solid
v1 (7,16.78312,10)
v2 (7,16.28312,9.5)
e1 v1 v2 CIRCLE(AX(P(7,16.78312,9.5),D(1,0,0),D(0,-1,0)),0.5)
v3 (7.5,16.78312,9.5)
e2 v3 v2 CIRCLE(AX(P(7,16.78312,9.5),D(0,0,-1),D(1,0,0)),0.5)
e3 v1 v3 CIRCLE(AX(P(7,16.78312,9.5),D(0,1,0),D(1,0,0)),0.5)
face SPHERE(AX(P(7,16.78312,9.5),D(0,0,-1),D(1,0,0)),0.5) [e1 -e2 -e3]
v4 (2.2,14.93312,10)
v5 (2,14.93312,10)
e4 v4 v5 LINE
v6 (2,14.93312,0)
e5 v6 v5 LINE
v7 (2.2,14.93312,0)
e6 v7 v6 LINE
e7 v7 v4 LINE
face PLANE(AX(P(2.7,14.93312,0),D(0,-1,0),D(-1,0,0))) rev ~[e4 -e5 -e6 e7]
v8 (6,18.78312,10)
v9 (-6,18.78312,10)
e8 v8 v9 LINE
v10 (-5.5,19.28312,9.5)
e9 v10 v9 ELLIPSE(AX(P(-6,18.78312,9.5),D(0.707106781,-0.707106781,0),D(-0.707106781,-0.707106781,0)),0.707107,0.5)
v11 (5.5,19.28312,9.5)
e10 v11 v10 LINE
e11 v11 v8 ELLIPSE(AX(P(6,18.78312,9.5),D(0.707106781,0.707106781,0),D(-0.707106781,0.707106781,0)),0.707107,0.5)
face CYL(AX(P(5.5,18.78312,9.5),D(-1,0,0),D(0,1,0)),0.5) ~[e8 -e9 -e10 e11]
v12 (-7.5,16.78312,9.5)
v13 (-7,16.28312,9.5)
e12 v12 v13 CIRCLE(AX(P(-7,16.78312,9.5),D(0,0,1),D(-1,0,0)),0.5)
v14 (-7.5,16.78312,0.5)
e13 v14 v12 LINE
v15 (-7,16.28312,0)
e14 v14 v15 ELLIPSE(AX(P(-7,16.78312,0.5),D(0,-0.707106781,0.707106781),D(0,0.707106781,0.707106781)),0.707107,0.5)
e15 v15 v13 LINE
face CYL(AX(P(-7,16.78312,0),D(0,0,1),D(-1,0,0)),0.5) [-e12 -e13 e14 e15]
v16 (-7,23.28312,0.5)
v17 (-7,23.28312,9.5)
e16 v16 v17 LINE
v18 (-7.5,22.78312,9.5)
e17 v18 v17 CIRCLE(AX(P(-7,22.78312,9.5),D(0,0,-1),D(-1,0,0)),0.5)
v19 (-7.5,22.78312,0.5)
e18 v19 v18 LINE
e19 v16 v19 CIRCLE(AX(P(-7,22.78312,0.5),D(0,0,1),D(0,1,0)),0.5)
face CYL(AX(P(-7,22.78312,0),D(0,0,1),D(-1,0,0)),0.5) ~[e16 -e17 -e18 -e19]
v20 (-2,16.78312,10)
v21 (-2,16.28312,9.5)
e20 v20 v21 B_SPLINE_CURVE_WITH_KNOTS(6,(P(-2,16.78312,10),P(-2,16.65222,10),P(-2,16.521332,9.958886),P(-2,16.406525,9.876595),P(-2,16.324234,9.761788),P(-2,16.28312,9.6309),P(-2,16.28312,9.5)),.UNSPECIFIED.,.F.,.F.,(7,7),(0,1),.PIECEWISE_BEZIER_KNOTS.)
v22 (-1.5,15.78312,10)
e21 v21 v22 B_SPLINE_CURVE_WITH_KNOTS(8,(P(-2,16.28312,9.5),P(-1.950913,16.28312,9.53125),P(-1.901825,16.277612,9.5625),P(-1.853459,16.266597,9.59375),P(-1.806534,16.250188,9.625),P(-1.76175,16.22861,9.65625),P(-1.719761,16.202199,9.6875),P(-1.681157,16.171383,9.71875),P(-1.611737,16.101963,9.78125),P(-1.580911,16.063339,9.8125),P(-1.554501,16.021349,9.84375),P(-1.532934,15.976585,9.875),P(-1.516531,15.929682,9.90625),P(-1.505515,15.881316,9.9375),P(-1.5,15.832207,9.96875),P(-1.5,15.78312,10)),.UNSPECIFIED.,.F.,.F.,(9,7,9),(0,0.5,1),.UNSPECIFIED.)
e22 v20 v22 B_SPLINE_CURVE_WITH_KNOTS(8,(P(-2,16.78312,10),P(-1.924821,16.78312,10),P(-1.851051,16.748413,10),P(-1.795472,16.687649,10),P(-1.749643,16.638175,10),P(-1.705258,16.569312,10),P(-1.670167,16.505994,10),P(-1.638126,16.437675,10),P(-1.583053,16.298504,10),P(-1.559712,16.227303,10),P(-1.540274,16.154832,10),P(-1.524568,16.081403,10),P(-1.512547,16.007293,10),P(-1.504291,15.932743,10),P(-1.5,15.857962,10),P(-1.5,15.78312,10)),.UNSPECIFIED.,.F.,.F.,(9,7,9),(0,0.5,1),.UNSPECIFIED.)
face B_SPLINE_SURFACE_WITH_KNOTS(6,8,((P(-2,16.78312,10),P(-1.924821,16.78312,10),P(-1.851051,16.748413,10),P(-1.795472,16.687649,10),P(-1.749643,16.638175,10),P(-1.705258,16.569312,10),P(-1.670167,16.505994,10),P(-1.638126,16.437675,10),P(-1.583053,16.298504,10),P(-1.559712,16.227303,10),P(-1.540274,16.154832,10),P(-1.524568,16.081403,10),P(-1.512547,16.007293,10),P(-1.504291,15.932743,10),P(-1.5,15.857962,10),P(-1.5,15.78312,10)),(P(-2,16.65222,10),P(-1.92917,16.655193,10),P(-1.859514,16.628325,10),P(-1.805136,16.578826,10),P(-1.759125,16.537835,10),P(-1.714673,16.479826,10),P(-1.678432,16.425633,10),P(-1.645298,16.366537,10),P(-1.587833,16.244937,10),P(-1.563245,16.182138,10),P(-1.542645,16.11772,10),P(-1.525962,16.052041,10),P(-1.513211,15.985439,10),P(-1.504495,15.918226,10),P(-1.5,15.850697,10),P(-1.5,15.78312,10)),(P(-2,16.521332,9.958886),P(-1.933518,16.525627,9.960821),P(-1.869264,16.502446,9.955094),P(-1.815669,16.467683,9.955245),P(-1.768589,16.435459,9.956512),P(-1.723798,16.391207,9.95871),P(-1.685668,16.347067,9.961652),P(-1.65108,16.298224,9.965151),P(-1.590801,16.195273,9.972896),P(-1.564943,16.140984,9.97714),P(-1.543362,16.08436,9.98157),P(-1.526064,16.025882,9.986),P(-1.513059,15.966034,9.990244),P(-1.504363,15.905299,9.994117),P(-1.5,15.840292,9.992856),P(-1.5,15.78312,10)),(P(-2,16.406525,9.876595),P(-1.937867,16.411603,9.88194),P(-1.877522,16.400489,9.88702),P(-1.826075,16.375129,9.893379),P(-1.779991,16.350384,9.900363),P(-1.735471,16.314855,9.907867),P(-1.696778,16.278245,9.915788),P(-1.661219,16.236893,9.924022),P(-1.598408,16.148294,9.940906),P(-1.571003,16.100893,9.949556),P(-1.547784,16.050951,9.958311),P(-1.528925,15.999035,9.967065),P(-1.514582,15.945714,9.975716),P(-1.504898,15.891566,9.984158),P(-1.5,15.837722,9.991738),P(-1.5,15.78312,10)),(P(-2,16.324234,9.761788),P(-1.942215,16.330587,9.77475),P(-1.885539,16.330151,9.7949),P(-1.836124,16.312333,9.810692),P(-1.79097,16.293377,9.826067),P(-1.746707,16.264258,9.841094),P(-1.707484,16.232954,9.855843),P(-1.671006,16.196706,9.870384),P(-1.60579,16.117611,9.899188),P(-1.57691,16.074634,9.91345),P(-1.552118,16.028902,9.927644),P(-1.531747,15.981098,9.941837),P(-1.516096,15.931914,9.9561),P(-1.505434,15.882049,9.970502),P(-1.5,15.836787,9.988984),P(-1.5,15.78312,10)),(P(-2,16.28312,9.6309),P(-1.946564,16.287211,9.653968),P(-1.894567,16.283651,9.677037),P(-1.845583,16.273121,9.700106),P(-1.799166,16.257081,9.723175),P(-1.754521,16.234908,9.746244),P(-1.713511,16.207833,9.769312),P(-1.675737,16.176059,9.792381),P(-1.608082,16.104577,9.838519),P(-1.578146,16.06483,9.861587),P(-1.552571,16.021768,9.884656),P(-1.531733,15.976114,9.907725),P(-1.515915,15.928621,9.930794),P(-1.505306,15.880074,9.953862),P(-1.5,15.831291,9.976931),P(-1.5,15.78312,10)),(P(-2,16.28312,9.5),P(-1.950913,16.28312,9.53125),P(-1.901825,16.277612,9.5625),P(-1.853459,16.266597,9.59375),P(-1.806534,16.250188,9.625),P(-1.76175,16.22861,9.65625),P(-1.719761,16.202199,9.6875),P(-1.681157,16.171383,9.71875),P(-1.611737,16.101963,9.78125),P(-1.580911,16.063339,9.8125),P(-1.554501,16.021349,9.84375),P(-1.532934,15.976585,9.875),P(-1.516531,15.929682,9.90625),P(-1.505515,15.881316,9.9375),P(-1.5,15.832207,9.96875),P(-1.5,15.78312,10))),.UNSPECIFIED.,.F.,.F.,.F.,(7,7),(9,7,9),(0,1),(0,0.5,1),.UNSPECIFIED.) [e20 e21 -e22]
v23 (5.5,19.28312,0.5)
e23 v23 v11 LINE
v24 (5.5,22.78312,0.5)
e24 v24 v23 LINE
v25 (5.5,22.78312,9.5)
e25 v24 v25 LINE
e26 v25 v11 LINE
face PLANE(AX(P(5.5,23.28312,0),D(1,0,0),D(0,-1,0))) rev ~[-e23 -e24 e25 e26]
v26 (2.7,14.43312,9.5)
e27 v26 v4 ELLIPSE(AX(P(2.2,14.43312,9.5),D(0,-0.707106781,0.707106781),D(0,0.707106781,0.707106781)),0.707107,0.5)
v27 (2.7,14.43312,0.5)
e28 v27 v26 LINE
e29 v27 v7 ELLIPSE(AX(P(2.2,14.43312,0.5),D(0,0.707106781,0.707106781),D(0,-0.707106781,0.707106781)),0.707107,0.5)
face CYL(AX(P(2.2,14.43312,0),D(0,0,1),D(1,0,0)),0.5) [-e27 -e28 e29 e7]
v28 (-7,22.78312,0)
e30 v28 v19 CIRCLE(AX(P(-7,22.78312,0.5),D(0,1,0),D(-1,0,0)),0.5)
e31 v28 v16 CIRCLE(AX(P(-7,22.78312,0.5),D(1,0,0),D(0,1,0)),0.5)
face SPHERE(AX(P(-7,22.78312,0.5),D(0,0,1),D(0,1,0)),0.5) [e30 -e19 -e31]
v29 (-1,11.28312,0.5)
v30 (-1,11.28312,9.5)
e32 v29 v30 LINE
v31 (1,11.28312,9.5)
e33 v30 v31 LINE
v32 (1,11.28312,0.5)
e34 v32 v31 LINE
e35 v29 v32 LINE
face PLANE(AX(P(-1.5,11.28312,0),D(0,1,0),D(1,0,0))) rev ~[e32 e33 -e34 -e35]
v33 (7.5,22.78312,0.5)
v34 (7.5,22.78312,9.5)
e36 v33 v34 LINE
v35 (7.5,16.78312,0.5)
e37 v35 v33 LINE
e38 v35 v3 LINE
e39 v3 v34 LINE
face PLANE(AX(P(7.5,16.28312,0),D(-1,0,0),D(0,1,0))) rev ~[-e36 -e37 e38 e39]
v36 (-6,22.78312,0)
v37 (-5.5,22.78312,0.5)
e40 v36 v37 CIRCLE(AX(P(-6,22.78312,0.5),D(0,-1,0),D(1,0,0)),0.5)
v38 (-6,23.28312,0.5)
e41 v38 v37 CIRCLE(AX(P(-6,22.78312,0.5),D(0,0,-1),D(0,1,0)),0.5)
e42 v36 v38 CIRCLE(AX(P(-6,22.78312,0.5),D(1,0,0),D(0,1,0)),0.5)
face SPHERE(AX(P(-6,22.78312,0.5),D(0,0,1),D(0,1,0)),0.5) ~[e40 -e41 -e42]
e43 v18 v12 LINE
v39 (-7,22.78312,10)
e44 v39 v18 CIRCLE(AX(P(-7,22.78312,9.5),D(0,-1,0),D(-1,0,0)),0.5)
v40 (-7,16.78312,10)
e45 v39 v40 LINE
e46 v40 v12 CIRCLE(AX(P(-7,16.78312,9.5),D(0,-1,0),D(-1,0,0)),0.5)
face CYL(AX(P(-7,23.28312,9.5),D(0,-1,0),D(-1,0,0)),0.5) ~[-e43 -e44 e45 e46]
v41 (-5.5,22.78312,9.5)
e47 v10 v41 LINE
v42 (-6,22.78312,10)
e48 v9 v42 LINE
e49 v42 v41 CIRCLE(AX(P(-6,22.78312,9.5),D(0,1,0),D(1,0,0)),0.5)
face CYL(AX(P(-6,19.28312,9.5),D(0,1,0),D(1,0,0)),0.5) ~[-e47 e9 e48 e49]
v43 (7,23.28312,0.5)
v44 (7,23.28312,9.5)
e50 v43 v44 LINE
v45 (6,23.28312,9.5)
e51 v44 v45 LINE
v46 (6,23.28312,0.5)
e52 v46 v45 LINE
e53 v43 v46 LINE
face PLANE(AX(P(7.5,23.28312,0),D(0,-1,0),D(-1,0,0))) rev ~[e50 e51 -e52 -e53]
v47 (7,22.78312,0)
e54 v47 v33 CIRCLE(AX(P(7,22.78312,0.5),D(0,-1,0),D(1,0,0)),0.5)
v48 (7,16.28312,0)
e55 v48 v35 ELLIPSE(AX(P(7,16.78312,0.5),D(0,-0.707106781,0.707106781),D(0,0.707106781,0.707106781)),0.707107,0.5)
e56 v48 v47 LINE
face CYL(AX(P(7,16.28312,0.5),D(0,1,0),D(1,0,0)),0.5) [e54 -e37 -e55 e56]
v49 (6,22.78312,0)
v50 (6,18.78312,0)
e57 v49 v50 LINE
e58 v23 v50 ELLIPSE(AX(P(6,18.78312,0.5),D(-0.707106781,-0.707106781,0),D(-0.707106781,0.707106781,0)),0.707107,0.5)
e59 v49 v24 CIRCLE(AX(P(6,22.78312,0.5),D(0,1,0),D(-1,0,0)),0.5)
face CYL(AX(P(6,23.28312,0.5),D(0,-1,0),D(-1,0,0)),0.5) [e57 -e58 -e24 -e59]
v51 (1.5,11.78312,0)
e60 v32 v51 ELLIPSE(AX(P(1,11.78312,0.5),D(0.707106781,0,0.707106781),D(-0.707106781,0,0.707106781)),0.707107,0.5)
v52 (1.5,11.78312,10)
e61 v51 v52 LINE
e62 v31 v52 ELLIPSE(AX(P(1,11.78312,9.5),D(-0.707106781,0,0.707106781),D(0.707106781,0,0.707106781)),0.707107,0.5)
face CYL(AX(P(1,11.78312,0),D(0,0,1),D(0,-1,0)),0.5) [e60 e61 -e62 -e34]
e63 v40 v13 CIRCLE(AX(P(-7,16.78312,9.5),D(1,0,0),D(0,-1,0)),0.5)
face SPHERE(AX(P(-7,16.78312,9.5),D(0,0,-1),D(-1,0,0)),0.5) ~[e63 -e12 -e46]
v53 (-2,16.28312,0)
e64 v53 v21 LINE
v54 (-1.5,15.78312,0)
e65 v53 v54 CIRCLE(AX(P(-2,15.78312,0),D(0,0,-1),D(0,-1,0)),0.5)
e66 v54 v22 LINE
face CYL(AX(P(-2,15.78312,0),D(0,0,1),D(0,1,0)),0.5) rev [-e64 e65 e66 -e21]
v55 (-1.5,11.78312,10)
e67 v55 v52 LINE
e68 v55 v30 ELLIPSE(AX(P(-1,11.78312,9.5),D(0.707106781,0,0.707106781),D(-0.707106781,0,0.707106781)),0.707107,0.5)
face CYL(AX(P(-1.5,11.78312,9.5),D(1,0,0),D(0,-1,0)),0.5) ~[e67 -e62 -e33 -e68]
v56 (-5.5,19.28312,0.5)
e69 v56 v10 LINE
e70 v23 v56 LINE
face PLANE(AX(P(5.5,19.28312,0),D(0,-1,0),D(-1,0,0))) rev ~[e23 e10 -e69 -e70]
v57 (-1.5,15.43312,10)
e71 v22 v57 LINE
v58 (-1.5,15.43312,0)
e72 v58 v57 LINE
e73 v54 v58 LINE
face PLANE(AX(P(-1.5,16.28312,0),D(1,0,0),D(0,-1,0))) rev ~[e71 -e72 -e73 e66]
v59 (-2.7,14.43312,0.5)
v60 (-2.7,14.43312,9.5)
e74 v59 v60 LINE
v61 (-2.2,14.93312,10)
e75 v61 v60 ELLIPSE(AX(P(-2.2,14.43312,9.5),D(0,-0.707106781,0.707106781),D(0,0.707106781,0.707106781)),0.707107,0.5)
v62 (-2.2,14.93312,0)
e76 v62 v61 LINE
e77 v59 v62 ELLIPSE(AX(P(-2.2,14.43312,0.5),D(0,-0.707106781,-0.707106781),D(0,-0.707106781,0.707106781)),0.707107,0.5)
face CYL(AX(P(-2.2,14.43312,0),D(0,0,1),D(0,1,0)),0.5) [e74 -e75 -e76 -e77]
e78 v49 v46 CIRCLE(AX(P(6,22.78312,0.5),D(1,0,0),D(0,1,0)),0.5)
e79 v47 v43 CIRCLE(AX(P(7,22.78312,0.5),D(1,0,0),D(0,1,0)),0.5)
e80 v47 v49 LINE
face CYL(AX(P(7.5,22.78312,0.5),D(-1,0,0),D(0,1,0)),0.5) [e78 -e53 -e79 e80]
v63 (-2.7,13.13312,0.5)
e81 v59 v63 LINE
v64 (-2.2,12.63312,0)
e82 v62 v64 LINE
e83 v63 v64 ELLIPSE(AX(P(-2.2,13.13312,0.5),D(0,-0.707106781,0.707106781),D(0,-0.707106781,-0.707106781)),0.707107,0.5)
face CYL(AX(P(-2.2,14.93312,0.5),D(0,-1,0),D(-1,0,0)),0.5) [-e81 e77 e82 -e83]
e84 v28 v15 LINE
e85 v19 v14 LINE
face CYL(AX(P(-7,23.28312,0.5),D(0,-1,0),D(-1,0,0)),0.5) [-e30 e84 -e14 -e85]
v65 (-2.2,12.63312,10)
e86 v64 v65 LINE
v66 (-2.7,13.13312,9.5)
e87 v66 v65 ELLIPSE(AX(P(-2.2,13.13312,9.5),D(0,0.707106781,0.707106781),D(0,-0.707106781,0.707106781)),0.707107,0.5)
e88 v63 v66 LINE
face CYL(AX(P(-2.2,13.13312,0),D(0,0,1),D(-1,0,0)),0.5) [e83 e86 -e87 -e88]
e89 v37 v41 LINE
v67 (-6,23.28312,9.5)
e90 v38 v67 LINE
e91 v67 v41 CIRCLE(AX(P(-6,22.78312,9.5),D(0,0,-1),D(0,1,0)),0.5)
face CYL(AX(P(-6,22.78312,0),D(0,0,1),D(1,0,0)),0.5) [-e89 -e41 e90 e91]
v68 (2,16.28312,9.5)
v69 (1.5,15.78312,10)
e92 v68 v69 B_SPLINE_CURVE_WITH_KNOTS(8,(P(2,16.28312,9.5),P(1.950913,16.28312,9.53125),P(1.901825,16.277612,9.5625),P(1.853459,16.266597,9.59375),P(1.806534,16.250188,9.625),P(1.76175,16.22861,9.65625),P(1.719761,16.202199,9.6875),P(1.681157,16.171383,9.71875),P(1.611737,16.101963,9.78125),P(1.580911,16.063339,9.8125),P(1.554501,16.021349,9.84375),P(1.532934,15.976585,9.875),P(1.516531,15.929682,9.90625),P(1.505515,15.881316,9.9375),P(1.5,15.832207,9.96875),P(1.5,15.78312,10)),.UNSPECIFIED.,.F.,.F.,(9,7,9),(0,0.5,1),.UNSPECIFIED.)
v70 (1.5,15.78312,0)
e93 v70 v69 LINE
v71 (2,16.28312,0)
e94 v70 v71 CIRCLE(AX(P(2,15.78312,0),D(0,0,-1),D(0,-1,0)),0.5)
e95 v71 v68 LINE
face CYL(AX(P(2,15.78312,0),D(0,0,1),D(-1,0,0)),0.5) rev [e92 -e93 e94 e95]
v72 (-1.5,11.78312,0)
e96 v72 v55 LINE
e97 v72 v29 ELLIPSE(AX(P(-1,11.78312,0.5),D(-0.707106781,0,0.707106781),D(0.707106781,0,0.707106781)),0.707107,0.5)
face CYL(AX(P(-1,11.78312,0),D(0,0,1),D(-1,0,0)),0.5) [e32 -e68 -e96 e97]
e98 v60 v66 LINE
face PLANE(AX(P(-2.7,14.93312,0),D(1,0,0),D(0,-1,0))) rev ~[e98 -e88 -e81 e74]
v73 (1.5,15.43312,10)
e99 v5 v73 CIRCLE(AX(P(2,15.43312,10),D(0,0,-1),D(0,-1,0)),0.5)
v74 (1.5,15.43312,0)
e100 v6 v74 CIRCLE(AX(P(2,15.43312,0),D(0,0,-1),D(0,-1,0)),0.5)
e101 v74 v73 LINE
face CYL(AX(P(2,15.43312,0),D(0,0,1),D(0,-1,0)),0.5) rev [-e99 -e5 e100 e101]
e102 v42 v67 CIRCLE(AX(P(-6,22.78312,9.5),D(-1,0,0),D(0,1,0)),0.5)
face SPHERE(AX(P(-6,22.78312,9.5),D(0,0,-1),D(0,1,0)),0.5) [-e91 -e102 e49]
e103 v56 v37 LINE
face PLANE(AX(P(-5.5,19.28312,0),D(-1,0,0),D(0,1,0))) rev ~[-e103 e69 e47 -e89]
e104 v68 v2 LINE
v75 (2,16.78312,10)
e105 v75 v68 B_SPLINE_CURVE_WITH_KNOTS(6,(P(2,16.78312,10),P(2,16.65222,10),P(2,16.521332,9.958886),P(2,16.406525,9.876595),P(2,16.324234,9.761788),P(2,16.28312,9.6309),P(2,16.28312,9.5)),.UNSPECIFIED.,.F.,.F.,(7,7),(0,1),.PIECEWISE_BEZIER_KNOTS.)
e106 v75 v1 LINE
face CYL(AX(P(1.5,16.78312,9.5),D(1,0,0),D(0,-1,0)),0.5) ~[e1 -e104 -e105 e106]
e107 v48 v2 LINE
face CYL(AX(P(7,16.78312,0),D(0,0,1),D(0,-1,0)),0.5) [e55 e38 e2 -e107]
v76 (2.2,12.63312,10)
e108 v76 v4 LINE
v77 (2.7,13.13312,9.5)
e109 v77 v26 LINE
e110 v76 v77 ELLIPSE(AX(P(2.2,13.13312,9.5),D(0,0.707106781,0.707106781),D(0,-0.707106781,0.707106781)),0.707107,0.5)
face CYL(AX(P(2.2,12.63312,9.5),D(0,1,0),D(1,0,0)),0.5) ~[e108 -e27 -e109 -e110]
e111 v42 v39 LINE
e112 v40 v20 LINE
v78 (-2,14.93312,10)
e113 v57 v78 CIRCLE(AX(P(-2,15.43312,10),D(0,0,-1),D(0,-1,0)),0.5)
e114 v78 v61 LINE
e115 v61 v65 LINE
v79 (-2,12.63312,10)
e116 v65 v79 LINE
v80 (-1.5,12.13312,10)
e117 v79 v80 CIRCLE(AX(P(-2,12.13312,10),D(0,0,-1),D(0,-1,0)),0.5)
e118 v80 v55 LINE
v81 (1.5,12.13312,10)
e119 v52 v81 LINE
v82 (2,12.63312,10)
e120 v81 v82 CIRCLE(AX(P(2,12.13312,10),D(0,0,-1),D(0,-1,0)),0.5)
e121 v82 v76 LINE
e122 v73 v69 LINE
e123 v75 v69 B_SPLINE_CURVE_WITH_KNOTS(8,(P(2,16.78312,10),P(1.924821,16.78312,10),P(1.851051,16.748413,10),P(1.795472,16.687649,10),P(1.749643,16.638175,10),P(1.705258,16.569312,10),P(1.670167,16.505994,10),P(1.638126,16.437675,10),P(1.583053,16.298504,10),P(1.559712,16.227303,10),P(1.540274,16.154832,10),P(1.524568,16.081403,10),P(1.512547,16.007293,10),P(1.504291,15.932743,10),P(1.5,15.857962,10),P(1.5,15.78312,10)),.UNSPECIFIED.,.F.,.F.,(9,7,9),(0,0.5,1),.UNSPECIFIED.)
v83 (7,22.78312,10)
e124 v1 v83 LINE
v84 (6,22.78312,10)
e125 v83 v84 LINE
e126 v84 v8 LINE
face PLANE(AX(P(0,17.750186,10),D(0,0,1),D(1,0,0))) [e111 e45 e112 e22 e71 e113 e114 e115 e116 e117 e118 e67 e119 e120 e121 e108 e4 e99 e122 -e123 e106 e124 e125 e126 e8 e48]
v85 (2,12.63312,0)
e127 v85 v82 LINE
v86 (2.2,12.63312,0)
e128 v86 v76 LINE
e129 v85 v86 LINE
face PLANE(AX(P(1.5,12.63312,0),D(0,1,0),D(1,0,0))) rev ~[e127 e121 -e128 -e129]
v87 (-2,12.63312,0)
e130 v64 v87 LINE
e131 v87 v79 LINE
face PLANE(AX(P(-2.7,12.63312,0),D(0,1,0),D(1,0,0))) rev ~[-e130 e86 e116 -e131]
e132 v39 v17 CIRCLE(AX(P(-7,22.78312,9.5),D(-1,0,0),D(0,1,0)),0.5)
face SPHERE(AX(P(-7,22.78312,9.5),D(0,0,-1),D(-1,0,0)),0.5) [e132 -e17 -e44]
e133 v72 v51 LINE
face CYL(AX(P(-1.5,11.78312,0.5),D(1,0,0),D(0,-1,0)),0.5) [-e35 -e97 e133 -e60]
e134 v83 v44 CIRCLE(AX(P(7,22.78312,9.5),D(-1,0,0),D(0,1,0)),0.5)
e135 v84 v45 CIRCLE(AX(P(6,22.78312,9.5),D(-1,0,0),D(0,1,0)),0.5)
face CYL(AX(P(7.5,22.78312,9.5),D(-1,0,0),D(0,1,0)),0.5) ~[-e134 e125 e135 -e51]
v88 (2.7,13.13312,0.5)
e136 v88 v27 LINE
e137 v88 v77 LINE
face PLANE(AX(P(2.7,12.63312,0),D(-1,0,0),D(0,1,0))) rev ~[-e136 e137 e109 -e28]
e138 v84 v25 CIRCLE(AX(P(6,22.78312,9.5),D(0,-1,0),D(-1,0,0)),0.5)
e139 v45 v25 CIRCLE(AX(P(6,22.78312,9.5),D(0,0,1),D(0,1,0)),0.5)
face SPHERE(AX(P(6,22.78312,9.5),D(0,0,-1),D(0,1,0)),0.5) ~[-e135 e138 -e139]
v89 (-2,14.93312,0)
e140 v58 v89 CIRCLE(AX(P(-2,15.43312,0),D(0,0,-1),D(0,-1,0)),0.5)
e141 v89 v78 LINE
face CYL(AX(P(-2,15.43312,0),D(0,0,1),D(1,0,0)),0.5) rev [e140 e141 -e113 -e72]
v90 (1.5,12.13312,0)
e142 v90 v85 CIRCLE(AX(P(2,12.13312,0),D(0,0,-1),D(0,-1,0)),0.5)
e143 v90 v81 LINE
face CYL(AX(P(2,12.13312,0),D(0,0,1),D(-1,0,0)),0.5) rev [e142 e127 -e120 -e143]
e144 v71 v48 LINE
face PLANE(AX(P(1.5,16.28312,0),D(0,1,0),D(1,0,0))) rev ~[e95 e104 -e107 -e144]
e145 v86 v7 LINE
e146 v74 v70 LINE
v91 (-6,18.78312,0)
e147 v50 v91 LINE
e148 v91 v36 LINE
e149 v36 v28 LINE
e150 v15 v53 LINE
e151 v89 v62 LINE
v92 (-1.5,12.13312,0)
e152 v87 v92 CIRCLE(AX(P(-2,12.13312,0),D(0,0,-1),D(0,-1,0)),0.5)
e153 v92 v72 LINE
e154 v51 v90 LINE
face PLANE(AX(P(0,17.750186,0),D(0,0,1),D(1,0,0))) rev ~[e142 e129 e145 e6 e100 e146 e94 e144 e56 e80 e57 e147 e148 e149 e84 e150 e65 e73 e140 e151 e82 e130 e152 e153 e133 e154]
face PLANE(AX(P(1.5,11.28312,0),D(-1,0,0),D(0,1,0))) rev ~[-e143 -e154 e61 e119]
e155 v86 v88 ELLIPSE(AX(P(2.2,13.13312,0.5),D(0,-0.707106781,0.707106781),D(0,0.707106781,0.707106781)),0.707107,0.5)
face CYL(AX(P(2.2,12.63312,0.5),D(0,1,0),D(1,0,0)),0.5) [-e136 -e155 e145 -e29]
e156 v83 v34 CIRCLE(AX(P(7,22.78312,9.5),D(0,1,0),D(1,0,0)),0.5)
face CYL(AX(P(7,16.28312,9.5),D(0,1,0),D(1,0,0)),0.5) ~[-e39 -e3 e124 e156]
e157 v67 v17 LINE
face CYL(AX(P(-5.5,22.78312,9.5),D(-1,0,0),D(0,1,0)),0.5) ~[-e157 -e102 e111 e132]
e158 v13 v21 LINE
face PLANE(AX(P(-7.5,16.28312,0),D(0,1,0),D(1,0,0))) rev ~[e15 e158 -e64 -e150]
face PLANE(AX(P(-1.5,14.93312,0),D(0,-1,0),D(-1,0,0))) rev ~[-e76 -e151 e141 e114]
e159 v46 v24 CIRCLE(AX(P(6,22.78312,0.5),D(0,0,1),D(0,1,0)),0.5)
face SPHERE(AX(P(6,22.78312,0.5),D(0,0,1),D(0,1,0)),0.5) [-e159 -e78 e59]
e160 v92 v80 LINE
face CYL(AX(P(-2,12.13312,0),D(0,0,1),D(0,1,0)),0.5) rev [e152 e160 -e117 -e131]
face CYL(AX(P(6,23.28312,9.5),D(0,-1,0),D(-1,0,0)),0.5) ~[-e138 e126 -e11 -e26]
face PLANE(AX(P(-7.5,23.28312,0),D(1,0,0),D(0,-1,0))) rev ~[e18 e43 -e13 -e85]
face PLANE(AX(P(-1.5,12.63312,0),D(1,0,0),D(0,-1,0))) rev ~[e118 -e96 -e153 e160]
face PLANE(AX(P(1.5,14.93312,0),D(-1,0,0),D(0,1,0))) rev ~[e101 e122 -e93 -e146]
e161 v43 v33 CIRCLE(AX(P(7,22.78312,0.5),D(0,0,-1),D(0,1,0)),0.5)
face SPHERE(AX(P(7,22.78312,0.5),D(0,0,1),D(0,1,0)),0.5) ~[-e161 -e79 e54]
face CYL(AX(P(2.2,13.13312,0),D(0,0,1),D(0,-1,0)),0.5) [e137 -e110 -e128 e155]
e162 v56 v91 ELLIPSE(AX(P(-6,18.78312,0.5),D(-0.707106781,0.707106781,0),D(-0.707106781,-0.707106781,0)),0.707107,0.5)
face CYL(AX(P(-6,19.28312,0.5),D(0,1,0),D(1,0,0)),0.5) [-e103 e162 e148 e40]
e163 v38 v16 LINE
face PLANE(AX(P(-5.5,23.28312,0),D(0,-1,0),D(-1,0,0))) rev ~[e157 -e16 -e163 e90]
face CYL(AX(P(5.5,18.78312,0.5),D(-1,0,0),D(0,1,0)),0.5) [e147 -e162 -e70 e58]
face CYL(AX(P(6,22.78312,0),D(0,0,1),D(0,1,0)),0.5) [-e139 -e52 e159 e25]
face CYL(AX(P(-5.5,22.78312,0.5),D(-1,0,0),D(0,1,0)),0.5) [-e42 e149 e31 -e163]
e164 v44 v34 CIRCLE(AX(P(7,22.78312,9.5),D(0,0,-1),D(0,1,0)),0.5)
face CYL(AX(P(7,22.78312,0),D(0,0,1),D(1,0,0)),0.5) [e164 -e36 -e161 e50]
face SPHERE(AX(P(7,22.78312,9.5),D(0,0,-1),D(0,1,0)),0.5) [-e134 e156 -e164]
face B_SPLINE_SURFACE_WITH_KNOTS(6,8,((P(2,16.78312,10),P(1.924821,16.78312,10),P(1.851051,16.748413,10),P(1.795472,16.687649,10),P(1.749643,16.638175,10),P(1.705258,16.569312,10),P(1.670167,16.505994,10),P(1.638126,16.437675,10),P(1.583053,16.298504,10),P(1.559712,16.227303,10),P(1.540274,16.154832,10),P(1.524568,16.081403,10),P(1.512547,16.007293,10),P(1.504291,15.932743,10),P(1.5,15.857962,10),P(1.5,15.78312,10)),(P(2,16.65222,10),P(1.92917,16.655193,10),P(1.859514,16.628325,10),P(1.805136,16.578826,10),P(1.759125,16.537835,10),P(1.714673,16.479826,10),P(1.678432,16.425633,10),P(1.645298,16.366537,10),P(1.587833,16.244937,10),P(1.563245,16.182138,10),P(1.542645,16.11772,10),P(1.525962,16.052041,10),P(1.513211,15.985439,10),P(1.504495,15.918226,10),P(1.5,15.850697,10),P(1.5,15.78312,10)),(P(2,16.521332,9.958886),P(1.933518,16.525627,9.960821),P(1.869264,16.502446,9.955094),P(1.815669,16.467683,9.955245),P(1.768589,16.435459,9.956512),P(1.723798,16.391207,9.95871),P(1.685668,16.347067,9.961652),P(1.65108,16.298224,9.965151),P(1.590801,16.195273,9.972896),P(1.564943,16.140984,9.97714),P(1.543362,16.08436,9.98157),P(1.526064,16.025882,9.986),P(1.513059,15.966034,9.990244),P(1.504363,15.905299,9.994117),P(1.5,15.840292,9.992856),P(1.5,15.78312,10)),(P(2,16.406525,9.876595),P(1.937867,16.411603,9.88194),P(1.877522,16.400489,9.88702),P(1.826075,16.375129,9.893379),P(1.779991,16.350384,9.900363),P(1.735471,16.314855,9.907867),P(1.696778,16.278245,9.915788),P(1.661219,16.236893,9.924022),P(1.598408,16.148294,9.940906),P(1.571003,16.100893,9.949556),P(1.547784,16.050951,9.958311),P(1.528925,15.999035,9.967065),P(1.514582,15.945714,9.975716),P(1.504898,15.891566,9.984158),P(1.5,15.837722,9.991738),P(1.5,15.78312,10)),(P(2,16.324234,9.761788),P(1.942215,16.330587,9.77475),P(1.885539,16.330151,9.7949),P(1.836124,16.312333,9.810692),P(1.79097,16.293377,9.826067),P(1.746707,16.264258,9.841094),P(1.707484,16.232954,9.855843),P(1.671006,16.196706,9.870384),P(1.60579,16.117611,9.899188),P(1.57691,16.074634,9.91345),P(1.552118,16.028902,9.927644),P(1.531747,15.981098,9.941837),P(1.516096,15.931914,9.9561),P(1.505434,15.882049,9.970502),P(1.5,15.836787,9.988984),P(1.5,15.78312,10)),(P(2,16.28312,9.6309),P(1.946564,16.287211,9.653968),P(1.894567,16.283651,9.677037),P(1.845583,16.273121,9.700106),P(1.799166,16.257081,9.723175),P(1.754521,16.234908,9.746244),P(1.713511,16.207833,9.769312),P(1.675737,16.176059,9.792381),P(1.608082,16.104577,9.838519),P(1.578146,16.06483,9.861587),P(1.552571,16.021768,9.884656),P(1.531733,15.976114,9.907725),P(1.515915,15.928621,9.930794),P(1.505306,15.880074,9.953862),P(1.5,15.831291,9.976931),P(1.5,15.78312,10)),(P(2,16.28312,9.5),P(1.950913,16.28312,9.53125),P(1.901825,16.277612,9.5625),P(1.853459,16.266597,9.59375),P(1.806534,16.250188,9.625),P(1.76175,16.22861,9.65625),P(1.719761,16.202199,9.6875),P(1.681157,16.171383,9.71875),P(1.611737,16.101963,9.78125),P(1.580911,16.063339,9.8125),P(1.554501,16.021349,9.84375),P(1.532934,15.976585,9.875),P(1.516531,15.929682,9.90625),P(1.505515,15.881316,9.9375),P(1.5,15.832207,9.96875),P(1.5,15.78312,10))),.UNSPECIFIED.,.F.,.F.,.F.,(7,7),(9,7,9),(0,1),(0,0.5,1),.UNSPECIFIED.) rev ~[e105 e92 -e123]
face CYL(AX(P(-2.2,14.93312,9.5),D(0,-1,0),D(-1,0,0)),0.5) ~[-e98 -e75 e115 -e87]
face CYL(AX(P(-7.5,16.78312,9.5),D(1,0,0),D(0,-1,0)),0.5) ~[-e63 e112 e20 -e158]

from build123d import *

# Parameters (mm, degrees)
PAD_DEPTH = 10
FILLET_R  = 0.5


with BuildPart() as part:
    # Sketch → Pad (new body)
    with BuildSketch(Plane.XY):
        Polygon((-7.5, 23.28312), (-7.5, 16.28312), (-1.5, 16.28312), (-1.5, 14.93312), (-2.7, 14.93312), (-2.7, 12.63312), (-1.5, 12.63312), (-1.5, 11.28312), (1.5, 11.28312), (1.5, 12.63312), (2.7, 12.63312), (2.7, 14.93312), (1.5, 14.93312), (1.5, 16.28312), (7.5, 16.28312), (7.5, 23.28312), (5.5, 23.28312), (5.5, 19.28312), (-5.5, 19.28312), (-5.5, 23.28312), align=None)
    extrude(amount=PAD_DEPTH)

    # Fillet
    fillet_edges = [part.edges().sort_by_distance(p)[0] for p in [
        (2.7, 12.63312, 5),
        (2.7, 14.93312, 5),
        (2.7, 13.78312, 0),
        (2.7, 13.78312, 10),
        (1.5, 11.28312, 5),
        (-1.5, 11.28312, 5),
        (0, 11.28312, 0),
        (0, 11.28312, 10),
        (-2.7, 13.78312, 0),
        (1.5, 12.63312, 5),
        (1.5, 14.93312, 5),
        (-1.5, 12.63312, 5),
        (-1.5, 14.93312, 5),
        (-2.7, 14.93312, 5),
        (-2.7, 12.63312, 5),
        (1.5, 16.28312, 5),
        (7.5, 16.28312, 5),
        (-1.5, 16.28312, 5),
        (-7.5, 16.28312, 5),
        (-7.5, 23.28312, 5),
        (7.5, 23.28312, 5),
        (5.5, 23.28312, 5),
        (-5.5, 23.28312, 5),
        (6.5, 23.28312, 0),
        (7.5, 19.78312, 0),
        (-6.5, 23.28312, 0),
        (-7.5, 19.78312, 0),
        (-7.5, 19.78312, 10),
        (-6.5, 23.28312, 10),
        (6.5, 23.28312, 10),
        (7.5, 19.78312, 10),
        (-4.5, 16.28312, 10),
        (4.5, 16.28312, 10),
        (-2.7, 13.78312, 10),
        (0, 19.28312, 10),
        (0, 19.28312, 0),
        (-5.5, 21.28312, 0),
        (5.5, 21.28312, 0),
        (5.5, 21.28312, 10),
        (-5.5, 21.28312, 10),
    ]]
    fillet(fillet_edges, radius=FILLET_R)


solid = part.part
